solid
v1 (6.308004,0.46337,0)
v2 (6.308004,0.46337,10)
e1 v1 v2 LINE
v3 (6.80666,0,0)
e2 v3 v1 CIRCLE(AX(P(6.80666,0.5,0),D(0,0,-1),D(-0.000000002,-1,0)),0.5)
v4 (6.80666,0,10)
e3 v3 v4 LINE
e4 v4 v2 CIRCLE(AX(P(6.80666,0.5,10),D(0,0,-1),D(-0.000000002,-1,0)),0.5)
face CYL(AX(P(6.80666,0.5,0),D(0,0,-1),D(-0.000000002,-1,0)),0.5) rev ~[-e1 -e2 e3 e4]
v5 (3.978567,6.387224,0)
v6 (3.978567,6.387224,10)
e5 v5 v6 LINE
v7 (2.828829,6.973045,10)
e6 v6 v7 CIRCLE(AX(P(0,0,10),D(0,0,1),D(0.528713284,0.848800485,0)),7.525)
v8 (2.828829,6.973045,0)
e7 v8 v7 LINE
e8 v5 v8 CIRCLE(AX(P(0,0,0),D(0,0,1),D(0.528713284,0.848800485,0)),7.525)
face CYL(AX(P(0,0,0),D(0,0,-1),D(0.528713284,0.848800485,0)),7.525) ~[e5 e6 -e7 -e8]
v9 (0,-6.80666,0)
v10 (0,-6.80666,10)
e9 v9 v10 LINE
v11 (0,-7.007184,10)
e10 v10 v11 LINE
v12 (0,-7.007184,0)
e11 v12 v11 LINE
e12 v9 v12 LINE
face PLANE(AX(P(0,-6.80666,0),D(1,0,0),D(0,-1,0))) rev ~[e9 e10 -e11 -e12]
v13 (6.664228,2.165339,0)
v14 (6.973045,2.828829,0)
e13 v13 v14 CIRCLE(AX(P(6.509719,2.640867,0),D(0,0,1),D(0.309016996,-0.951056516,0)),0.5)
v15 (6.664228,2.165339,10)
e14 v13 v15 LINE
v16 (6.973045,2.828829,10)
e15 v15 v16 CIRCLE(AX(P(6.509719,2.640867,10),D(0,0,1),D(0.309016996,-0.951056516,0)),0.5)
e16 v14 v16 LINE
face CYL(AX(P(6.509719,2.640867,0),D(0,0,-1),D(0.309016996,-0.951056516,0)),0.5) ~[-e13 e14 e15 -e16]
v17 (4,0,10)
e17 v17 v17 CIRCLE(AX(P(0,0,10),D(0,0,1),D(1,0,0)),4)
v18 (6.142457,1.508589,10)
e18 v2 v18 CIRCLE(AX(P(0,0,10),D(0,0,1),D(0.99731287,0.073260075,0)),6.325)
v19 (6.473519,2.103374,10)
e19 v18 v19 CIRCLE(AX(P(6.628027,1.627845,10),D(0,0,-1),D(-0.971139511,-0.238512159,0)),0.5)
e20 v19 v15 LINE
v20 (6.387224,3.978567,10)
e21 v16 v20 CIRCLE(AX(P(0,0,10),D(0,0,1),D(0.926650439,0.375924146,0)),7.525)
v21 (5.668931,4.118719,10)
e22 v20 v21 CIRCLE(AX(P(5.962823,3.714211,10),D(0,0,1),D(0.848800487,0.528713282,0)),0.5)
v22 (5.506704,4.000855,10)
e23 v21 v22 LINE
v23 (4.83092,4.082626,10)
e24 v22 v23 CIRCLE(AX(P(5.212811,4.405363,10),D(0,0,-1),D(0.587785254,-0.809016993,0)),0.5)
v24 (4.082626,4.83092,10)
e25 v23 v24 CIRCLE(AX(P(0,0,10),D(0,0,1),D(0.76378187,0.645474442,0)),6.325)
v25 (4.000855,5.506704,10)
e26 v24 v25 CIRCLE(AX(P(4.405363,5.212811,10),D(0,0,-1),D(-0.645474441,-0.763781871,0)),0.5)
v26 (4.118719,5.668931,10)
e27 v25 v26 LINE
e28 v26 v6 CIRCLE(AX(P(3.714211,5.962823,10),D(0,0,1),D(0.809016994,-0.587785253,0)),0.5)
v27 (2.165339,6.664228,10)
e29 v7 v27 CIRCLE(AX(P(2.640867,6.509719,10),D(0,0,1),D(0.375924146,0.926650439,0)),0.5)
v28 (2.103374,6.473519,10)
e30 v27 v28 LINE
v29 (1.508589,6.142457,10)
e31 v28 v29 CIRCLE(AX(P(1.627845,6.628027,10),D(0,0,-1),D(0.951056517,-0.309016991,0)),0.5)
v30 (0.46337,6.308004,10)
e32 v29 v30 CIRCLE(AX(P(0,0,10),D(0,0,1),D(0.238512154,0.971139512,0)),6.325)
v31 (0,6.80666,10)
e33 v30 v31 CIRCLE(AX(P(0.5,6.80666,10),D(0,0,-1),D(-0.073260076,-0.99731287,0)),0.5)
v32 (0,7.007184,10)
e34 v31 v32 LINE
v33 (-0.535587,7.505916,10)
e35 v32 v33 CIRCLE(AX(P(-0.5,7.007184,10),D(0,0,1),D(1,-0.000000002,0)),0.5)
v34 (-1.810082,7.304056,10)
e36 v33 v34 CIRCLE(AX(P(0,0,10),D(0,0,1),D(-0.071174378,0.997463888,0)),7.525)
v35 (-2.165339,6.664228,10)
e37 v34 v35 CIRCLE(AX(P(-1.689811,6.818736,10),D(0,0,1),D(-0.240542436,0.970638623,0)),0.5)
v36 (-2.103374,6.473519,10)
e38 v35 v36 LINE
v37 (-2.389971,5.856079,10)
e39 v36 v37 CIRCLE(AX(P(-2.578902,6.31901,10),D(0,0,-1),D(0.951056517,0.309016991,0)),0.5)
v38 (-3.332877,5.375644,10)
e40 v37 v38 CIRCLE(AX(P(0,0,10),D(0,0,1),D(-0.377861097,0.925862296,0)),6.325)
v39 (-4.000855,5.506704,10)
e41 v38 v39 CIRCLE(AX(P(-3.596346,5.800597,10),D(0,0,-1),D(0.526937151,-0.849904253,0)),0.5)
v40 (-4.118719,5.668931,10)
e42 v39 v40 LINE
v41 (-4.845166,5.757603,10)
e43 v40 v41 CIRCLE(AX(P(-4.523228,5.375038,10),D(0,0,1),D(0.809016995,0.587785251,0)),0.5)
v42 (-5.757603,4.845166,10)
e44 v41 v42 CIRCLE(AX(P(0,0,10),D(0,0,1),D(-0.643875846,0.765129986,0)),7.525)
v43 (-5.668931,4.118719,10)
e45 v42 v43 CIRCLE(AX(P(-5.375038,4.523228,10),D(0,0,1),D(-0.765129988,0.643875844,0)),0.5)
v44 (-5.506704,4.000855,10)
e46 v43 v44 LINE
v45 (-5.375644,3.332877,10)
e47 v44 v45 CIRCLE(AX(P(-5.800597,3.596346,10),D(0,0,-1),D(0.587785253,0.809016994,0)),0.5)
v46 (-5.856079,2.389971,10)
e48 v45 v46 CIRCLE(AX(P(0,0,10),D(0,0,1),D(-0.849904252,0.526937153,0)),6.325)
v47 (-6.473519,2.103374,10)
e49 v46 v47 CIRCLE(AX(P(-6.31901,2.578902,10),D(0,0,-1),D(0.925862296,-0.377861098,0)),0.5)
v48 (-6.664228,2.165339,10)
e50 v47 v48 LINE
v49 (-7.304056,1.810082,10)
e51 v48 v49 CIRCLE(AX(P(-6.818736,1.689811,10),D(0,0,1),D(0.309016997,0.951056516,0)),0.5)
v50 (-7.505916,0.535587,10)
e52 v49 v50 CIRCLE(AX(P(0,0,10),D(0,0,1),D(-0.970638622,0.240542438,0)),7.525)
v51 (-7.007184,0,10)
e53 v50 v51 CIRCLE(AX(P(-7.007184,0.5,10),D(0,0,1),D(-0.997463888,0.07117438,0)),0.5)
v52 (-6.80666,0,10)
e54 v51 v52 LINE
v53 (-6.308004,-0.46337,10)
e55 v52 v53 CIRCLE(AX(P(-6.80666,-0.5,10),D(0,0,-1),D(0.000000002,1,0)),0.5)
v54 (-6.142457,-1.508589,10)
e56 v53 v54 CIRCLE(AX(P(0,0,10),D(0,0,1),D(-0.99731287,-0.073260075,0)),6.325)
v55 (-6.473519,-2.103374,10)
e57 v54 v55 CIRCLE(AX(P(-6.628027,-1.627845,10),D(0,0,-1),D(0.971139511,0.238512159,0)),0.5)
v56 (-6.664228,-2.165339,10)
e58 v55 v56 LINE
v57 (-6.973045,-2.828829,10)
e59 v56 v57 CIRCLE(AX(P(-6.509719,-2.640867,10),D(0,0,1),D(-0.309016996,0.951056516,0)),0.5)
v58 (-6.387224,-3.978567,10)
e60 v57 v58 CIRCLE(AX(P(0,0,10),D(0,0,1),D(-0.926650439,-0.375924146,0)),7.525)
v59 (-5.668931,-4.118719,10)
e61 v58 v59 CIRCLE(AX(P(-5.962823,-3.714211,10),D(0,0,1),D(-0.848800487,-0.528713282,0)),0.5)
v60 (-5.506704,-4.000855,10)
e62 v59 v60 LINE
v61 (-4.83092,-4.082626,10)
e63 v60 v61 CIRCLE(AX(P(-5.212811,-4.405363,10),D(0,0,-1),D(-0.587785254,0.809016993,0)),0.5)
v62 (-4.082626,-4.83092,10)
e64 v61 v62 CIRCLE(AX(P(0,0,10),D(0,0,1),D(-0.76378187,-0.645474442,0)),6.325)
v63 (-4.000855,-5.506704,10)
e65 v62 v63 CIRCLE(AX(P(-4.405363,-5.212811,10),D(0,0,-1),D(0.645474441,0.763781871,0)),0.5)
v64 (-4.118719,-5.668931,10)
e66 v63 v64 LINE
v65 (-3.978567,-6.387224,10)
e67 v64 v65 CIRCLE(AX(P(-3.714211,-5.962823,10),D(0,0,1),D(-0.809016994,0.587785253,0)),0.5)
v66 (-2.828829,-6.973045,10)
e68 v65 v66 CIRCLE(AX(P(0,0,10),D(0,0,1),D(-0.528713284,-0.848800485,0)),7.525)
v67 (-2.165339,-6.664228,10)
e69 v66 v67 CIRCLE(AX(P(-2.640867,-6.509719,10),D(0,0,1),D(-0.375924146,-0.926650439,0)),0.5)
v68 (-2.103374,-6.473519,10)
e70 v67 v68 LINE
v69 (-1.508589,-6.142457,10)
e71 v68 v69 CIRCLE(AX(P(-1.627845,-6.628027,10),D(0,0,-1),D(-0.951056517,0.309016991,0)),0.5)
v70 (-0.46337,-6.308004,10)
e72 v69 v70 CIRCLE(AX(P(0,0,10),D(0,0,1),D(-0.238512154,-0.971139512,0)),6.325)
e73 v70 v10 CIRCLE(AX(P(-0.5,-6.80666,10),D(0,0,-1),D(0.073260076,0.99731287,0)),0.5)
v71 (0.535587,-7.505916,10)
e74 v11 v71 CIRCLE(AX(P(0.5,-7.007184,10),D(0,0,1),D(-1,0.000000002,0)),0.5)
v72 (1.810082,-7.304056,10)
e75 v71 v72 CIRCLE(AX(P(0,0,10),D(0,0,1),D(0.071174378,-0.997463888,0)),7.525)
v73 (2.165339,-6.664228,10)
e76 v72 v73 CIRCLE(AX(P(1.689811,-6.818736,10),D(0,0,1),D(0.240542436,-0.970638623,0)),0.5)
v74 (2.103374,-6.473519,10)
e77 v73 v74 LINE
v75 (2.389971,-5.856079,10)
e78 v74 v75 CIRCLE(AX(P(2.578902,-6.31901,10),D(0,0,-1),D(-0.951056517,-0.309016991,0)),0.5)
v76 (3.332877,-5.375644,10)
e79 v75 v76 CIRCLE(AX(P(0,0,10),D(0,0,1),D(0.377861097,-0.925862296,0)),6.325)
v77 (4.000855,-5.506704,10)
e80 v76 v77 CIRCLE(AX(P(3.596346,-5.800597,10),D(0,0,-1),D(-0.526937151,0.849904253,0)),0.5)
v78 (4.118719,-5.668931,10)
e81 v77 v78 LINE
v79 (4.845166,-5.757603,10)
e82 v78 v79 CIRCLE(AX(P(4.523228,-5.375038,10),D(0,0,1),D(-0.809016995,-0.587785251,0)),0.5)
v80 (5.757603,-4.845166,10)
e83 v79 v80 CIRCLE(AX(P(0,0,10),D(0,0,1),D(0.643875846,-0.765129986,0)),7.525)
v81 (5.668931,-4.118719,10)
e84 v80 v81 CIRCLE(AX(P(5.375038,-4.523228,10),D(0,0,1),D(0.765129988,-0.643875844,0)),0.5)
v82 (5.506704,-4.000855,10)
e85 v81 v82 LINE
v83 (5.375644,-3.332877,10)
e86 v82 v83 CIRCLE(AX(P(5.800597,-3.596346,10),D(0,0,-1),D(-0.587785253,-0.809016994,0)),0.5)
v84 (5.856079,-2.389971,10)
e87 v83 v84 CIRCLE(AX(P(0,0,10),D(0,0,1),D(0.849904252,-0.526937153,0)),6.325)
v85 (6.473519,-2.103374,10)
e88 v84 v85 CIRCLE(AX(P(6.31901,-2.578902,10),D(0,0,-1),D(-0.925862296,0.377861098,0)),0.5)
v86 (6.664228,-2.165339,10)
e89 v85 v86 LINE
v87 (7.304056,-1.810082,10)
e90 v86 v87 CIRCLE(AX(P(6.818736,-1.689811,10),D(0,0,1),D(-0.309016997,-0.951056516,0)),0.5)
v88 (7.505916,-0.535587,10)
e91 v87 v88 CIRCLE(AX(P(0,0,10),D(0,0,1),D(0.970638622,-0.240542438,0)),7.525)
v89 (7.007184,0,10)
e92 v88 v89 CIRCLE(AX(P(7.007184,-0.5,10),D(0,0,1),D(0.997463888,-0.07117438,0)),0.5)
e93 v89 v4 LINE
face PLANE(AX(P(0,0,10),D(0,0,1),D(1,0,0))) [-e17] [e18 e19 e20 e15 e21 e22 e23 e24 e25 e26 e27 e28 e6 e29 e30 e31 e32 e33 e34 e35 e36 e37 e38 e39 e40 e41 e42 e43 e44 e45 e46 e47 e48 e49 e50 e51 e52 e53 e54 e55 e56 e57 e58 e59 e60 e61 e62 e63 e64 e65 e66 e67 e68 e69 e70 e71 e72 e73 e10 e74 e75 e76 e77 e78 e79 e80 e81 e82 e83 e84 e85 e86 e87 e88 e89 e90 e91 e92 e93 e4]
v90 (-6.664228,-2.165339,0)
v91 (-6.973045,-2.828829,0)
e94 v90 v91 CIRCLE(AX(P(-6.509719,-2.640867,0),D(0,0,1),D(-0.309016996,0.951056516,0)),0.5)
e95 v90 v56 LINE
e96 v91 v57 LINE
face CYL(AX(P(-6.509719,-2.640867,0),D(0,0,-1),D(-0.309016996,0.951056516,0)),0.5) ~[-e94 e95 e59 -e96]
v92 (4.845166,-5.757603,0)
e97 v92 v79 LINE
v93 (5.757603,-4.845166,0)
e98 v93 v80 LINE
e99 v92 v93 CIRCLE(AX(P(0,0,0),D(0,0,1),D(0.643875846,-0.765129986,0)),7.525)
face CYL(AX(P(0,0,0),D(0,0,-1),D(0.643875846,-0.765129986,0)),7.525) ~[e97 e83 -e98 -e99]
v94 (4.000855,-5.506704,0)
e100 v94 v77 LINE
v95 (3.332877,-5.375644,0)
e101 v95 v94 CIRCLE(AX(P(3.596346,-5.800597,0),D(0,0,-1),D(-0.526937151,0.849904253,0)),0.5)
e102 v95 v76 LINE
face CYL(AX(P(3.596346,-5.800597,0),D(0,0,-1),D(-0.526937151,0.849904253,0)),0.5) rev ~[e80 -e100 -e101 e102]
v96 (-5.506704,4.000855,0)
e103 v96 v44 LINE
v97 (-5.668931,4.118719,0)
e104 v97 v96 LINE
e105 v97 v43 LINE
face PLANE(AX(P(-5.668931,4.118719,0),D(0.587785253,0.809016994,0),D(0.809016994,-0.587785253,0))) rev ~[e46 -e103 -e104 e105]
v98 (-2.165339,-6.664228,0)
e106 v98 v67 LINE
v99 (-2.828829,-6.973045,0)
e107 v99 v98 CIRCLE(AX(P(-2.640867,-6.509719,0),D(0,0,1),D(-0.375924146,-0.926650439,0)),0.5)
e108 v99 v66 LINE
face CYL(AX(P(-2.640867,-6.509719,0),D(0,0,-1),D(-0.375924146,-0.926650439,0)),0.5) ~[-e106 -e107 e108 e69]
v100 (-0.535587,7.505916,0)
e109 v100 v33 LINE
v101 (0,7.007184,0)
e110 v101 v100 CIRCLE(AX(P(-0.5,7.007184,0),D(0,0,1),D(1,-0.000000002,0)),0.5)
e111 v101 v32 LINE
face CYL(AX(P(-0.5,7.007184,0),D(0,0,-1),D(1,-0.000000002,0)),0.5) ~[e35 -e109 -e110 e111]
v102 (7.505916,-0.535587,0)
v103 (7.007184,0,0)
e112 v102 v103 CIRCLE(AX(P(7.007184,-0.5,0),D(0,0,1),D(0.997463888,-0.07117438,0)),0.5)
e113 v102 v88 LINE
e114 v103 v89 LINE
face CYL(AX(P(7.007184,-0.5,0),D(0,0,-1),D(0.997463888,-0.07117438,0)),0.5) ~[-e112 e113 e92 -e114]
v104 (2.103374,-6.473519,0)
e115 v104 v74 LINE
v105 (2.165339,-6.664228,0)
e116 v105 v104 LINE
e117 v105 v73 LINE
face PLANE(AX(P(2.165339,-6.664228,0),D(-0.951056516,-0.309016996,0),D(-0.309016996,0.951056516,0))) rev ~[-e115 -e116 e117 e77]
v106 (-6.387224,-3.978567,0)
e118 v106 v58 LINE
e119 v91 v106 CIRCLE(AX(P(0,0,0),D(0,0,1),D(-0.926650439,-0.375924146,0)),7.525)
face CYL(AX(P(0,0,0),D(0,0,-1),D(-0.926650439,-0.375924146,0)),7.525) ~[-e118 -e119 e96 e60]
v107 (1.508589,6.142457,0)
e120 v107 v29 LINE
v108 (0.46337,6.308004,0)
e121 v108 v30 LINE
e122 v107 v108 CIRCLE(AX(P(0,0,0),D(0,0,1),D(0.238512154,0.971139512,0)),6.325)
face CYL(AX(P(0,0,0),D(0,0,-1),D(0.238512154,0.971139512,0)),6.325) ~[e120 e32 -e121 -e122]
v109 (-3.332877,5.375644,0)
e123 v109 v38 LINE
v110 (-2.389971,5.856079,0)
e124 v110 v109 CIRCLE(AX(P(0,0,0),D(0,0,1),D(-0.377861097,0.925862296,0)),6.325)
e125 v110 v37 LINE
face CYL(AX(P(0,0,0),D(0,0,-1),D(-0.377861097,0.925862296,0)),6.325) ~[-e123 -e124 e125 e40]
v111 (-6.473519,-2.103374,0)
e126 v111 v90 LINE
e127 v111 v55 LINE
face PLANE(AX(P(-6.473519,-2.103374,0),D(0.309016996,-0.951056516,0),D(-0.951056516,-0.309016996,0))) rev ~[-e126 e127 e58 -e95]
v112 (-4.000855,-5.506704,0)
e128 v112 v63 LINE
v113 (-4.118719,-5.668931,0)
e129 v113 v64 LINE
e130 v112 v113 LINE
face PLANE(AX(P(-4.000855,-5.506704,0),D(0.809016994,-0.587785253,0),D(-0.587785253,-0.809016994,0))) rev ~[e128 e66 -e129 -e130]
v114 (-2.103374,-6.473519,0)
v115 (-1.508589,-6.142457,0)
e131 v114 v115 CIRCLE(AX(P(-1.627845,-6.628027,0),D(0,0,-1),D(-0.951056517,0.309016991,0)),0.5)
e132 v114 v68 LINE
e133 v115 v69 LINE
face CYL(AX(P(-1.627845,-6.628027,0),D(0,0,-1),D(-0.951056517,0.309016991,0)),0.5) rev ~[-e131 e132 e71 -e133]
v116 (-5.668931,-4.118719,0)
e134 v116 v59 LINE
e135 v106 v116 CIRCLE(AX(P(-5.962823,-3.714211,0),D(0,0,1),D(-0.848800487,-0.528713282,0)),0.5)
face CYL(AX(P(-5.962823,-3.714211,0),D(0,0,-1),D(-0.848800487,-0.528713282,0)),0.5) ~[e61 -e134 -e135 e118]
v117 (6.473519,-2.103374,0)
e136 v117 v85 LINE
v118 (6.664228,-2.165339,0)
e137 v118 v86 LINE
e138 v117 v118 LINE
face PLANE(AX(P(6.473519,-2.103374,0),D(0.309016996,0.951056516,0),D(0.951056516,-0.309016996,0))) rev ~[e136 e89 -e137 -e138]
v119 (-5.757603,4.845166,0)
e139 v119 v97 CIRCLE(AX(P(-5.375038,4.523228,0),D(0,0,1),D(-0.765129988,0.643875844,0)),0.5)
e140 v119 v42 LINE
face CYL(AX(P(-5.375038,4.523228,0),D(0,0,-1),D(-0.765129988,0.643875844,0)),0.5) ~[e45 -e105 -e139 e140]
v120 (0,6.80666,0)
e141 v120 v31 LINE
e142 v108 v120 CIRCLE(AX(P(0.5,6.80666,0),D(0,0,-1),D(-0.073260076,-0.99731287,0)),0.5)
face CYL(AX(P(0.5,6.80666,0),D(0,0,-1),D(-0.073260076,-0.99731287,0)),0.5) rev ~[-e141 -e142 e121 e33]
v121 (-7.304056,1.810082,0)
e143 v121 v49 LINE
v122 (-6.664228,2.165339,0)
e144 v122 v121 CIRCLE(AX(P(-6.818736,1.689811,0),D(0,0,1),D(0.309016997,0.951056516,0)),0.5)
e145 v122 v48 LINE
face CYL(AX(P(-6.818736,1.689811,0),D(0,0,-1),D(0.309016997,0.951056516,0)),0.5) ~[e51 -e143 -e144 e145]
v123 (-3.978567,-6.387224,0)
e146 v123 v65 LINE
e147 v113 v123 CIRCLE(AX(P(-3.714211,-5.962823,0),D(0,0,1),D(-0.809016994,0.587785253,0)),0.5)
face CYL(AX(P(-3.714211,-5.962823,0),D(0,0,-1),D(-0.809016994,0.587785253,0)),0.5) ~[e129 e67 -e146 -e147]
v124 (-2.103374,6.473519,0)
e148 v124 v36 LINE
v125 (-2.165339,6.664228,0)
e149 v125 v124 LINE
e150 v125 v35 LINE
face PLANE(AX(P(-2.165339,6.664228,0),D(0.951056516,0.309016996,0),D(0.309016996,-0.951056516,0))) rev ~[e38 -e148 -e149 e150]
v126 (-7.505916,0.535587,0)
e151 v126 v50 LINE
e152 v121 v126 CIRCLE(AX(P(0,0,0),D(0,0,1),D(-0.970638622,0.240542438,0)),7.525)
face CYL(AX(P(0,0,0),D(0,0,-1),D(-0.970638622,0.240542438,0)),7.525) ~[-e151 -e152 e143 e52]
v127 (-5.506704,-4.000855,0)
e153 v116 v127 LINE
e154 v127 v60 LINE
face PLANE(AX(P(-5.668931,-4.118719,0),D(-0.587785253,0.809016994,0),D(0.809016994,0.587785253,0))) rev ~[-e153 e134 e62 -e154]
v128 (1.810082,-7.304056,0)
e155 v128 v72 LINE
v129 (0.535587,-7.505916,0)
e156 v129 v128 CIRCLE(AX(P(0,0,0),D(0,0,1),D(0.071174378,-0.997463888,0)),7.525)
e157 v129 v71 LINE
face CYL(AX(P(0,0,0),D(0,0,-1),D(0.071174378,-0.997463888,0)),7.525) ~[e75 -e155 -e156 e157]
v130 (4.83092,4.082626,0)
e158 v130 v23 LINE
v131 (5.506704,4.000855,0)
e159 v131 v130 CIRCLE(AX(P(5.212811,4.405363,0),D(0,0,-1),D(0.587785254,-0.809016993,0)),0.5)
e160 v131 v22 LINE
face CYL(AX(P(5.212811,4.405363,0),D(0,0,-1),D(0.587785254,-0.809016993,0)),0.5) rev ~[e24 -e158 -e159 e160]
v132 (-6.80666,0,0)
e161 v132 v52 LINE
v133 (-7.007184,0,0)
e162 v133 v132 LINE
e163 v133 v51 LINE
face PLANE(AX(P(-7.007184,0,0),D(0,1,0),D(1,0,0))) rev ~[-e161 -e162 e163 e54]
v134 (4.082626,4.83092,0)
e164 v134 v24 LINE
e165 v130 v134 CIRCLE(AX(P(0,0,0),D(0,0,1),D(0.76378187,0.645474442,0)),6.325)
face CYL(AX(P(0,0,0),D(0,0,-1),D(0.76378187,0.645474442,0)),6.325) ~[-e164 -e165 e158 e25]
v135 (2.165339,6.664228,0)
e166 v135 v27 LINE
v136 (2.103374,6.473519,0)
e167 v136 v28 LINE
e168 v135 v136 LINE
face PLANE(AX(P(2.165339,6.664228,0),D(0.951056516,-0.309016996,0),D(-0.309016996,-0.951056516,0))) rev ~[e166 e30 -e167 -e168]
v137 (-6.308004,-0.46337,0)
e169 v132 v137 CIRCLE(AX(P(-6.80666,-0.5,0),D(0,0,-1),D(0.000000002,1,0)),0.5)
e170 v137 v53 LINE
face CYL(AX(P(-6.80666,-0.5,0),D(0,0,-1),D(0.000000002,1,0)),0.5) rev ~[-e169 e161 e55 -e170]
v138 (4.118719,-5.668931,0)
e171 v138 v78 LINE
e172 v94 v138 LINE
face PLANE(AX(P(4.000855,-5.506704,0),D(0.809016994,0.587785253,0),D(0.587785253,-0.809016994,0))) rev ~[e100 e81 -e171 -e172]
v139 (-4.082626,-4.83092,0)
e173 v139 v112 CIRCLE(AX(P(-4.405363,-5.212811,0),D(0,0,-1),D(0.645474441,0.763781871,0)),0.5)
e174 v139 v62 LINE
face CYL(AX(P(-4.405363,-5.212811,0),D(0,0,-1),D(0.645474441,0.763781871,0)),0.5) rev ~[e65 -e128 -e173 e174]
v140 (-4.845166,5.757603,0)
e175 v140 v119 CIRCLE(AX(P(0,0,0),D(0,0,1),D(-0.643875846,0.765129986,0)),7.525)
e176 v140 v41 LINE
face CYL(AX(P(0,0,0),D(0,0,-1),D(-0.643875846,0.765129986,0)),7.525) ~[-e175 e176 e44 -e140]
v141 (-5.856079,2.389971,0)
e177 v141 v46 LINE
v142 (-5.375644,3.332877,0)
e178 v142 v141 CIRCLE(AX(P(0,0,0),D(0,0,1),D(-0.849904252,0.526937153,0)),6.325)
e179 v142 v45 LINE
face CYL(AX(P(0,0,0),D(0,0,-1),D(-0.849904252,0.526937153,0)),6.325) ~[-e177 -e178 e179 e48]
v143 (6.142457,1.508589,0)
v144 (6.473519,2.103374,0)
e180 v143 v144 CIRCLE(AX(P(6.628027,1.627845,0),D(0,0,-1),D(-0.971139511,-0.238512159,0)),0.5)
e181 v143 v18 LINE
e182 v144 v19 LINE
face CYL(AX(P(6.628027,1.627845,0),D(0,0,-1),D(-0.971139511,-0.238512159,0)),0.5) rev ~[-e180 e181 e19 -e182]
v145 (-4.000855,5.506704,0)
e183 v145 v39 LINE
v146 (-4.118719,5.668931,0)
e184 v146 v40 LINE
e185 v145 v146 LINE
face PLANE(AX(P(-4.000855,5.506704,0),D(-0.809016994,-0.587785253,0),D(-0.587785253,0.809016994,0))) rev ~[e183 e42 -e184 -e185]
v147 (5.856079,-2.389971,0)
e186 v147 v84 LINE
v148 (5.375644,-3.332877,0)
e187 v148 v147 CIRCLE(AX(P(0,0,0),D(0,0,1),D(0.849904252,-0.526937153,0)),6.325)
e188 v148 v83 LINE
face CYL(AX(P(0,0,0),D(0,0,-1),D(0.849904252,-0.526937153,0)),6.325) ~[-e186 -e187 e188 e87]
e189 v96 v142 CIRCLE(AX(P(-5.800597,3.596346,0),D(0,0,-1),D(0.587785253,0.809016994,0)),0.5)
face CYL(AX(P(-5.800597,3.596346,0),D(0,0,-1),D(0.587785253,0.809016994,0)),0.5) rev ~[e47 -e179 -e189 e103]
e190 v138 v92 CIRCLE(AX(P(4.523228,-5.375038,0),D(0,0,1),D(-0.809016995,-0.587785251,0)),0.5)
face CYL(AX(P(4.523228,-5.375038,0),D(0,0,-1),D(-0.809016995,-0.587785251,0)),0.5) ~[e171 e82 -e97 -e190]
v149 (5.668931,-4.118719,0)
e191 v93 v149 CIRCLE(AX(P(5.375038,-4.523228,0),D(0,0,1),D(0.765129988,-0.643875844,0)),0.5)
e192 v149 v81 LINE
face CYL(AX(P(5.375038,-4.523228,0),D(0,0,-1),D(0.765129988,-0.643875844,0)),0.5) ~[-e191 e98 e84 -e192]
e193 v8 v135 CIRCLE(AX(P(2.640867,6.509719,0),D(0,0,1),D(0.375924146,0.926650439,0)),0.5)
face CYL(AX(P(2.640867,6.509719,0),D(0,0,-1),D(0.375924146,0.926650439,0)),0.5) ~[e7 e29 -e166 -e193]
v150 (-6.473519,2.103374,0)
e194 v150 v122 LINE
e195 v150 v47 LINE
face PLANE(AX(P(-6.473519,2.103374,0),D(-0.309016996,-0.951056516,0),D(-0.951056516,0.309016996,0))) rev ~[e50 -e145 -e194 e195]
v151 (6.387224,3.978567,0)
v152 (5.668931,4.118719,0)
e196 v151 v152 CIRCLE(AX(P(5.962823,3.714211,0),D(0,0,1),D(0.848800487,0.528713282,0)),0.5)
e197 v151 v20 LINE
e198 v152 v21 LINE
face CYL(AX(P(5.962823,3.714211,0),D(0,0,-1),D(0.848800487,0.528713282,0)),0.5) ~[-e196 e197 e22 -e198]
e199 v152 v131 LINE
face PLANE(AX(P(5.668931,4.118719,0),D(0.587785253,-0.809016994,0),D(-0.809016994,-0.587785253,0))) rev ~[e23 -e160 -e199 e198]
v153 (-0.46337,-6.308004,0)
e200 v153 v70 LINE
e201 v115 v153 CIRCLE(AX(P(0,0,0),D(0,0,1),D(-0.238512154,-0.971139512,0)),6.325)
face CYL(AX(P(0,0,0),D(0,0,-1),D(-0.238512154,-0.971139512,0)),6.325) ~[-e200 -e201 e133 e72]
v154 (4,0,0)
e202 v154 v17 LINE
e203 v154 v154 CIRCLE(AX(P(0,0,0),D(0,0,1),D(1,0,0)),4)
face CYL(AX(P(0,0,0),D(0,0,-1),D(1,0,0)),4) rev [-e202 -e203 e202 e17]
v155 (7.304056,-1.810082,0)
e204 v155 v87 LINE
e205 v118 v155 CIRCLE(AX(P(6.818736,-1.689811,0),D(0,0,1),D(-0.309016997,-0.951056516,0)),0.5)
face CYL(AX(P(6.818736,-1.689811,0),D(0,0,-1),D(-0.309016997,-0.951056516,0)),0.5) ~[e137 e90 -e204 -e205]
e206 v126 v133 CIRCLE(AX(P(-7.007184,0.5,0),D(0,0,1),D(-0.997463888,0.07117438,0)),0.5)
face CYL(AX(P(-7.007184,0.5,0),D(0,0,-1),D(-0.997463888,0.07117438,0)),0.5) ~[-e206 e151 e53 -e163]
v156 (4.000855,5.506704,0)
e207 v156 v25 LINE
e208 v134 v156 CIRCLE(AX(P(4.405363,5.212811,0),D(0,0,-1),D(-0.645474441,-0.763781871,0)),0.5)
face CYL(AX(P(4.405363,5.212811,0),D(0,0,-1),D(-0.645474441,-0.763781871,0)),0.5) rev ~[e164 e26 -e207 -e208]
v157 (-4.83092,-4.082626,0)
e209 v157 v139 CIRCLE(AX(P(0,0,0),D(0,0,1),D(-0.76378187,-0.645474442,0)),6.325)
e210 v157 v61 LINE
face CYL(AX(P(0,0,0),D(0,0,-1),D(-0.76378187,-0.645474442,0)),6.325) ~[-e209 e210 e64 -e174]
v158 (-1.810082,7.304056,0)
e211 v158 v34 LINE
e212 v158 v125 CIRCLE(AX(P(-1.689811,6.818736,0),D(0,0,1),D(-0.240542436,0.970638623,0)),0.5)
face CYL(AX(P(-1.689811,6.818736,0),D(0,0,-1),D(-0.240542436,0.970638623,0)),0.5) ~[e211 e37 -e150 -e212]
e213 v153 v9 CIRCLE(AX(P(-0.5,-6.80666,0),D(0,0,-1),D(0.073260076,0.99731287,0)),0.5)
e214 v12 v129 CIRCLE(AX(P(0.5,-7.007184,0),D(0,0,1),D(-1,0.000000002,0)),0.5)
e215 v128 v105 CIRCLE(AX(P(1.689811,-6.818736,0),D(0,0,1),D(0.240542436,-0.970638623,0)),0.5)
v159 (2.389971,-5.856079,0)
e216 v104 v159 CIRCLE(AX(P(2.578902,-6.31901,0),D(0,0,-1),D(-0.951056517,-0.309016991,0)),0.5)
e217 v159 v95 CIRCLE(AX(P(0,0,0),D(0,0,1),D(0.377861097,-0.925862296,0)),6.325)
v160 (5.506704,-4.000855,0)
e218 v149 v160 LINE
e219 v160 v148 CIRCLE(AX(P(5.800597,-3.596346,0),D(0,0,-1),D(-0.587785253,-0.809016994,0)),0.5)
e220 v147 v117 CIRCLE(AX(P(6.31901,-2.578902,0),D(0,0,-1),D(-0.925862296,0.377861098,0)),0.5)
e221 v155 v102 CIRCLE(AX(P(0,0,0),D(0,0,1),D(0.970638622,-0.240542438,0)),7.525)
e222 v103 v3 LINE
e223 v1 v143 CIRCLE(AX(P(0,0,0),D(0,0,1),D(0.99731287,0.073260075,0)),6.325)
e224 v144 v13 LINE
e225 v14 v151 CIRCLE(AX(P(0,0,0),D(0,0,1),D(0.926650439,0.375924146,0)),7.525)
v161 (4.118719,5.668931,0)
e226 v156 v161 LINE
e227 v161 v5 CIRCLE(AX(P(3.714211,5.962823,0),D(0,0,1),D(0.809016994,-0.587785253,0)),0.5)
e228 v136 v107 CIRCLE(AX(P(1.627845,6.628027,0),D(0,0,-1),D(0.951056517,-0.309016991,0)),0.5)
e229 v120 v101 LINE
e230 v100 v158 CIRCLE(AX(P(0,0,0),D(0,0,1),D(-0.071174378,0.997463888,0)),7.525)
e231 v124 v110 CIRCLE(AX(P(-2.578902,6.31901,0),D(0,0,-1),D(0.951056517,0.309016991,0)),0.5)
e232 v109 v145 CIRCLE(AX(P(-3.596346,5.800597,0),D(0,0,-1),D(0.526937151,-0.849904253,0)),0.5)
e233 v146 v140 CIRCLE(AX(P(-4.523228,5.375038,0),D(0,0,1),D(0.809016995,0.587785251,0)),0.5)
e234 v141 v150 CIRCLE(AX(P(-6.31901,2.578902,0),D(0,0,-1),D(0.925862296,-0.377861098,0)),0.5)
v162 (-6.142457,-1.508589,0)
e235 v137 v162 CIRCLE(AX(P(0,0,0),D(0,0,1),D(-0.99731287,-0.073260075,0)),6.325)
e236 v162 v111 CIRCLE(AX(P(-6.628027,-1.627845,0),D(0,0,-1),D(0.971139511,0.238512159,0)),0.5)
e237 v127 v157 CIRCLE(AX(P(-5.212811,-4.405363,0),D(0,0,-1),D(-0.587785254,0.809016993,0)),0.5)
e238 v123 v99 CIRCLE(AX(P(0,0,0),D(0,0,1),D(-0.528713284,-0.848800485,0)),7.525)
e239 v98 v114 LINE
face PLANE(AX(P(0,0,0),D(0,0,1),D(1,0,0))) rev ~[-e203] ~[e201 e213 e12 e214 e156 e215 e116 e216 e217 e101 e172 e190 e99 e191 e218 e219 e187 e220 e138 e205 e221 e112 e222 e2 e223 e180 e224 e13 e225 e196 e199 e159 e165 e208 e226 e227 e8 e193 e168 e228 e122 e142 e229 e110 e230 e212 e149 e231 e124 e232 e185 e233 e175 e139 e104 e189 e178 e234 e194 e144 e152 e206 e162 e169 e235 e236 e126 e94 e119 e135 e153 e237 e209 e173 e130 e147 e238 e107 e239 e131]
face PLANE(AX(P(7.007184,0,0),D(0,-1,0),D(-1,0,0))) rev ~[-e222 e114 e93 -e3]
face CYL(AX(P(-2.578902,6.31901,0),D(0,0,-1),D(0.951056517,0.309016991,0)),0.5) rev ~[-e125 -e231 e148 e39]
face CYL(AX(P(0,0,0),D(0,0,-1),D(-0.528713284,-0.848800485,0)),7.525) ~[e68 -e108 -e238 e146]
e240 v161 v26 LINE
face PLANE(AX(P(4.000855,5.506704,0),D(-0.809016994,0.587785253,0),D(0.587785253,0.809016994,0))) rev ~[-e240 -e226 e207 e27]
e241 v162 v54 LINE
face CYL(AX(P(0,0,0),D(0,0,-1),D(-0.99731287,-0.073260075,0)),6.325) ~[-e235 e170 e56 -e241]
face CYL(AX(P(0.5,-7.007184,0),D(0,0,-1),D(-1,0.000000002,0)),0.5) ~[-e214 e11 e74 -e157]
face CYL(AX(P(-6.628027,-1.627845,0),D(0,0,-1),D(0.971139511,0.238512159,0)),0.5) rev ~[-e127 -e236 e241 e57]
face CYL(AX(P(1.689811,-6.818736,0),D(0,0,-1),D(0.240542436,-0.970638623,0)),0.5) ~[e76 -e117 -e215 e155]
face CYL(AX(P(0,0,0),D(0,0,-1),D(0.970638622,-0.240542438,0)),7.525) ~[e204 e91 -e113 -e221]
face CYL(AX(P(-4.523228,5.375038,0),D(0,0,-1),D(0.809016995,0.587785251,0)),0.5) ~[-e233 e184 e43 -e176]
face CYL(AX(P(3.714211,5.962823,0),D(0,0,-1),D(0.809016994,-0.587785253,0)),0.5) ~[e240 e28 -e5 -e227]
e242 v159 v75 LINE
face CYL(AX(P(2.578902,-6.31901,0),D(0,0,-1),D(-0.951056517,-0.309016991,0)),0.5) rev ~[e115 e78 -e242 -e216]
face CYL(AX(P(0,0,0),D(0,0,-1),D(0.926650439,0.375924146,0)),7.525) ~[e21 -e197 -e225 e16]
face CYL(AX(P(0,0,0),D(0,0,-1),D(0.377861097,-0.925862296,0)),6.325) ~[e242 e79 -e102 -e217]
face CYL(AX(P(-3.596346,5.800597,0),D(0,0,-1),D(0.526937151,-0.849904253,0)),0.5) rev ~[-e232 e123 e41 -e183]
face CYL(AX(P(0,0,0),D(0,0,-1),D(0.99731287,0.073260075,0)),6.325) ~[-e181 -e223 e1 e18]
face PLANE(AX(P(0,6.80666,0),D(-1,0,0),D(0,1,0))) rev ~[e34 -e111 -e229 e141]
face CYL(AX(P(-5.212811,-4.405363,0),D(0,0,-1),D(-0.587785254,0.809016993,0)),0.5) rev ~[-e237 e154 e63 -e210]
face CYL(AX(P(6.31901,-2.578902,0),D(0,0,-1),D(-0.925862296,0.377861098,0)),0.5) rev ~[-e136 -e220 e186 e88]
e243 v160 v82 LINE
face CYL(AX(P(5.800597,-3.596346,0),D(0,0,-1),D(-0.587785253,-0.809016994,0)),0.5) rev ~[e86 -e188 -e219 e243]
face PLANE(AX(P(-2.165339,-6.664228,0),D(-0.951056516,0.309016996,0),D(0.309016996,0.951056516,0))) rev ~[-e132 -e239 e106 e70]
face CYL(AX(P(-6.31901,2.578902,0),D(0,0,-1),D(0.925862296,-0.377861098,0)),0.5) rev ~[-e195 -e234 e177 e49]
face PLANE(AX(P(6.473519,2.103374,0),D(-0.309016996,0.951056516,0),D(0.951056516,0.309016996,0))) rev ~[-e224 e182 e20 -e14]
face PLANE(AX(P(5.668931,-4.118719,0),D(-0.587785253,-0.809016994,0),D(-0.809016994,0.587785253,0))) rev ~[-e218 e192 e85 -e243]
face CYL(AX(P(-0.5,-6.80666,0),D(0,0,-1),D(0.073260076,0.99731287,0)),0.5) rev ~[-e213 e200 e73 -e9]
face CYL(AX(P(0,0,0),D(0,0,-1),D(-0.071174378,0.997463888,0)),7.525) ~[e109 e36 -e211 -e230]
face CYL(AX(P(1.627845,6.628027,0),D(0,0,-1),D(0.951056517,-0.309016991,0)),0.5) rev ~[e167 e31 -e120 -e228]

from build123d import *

# Parameters (mm, degrees)
ESQUISSE1_R      = 4
EXTRUSION1_DEPTH = 10


with BuildPart() as part:
    # Esquisse1 → Extrusion1 (new body)
    with BuildSketch(Plane.XY):
        with BuildLine():
            Line((4.000854566, 5.506703891), (4.118719306, 5.668930788))
            ThreePointArc((4.118719306, 5.668930788), (4.204956471, 6.058576718), (3.97856745, 6.387223657))
            ThreePointArc((3.97856745, 6.387223657), (3.416278511, 6.704824095), (2.828829213, 6.973044549))
            ThreePointArc((2.828829213, 6.973044549), (2.429880127, 6.96302329), (2.165338881, 6.664227827))
            Line((2.165338881, 6.664227827), (2.10337372, 6.473518672))
            ThreePointArc((2.10337372, 6.473518672), (1.871017944, 6.191143724), (1.508589384, 6.142457413))
            ThreePointArc((1.508589384, 6.142457413), (0.989447991, 6.247128754), (0.463369963, 6.308003906))
            ThreePointArc((0.463369963, 6.308003906), (0.133724818, 6.466303924), (0, 6.806660341))
            Line((0, 6.806660341), (0, 7.007183814))
            ThreePointArc((0, 7.007183814), (-0.159260799, 7.373102927), (-0.535587189, 7.505915758))
            ThreePointArc((-0.535587189, 7.505915758), (-1.177169349, 7.432354763), (-1.810081842, 7.304055635))
            ThreePointArc((-1.810081842, 7.304055635), (-2.126948085, 7.061451877), (-2.165338881, 6.664227827))
            Line((-2.165338881, 6.664227827), (-2.10337372, 6.473518672))
            ThreePointArc((-2.10337372, 6.473518672), (-2.125377663, 6.108497242), (-2.389971431, 5.856079026))
            ThreePointArc((-2.389971431, 5.856079026), (-2.871489911, 5.635616265), (-3.332877492, 5.375644391))
            ThreePointArc((-3.332877492, 5.375644391), (-3.692612433, 5.309951241), (-4.000854566, 5.506703891))
            Line((-4.000854566, 5.506703891), (-4.118719306, 5.668930788))
            ThreePointArc((-4.118719306, 5.668930788), (-4.462645857, 5.87135442), (-4.845165725, 5.757603156))
            ThreePointArc((-4.845165725, 5.757603156), (-5.320978528, 5.320978528), (-5.757603156, 4.845165725))
            ThreePointArc((-5.757603156, 4.845165725), (-5.87135442, 4.462645857), (-5.668930788, 4.118719306))
            Line((-5.668930788, 4.118719306), (-5.506703891, 4.000854566))
            ThreePointArc((-5.506703891, 4.000854566), (-5.309951241, 3.692612433), (-5.375644391, 3.332877492))
            ThreePointArc((-5.375644391, 3.332877492), (-5.635616265, 2.871489911), (-5.856079026, 2.389971431))
            ThreePointArc((-5.856079026, 2.389971431), (-6.108497242, 2.125377663), (-6.473518672, 2.10337372))
            Line((-6.473518672, 2.10337372), (-6.664227827, 2.165338881))
            ThreePointArc((-6.664227827, 2.165338881), (-7.061451877, 2.126948085), (-7.304055635, 1.810081842))
            ThreePointArc((-7.304055635, 1.810081842), (-7.432354763, 1.177169349), (-7.505915758, 0.535587189))
            ThreePointArc((-7.505915758, 0.535587189), (-7.373102927, 0.159260799), (-7.007183814, 0))
            Line((-7.007183814, 0), (-6.806660341, 0))
            ThreePointArc((-6.806660341, 0), (-6.466303924, -0.133724818), (-6.308003906, -0.463369963))
            ThreePointArc((-6.308003906, -0.463369963), (-6.247128754, -0.989447991), (-6.142457413, -1.508589384))
            ThreePointArc((-6.142457413, -1.508589384), (-6.191143724, -1.871017944), (-6.473518672, -2.10337372))
            Line((-6.473518672, -2.10337372), (-6.664227827, -2.165338881))
            ThreePointArc((-6.664227827, -2.165338881), (-6.96302329, -2.429880127), (-6.973044549, -2.828829213))
            ThreePointArc((-6.973044549, -2.828829213), (-6.704824095, -3.416278511), (-6.387223657, -3.97856745))
            ThreePointArc((-6.387223657, -3.97856745), (-6.058576718, -4.204956471), (-5.668930788, -4.118719306))
            Line((-5.668930788, -4.118719306), (-5.506703891, -4.000854566))
            ThreePointArc((-5.506703891, -4.000854566), (-5.152748289, -3.908983733), (-4.83092033, -4.082625842))
            ThreePointArc((-4.83092033, -4.082625842), (-4.472450391, -4.472450391), (-4.082625842, -4.83092033))
            ThreePointArc((-4.082625842, -4.83092033), (-3.908983733, -5.152748289), (-4.000854566, -5.506703891))
            Line((-4.000854566, -5.506703891), (-4.118719306, -5.668930788))
            ThreePointArc((-4.118719306, -5.668930788), (-4.204956471, -6.058576718), (-3.97856745, -6.387223657))
            ThreePointArc((-3.97856745, -6.387223657), (-3.416278511, -6.704824095), (-2.828829213, -6.973044549))
            ThreePointArc((-2.828829213, -6.973044549), (-2.429880127, -6.96302329), (-2.165338881, -6.664227827))
            Line((-2.165338881, -6.664227827), (-2.10337372, -6.473518672))
            ThreePointArc((-2.10337372, -6.473518672), (-1.871017944, -6.191143724), (-1.508589384, -6.142457413))
            ThreePointArc((-1.508589384, -6.142457413), (-0.989447991, -6.247128754), (-0.463369963, -6.308003906))
            ThreePointArc((-0.463369963, -6.308003906), (-0.133724818, -6.466303924), (0, -6.806660341))
            Line((0, -6.806660341), (0, -7.007183814))
            ThreePointArc((0, -7.007183814), (0.159260799, -7.373102927), (0.535587189, -7.505915758))
            ThreePointArc((0.535587189, -7.505915758), (1.177169349, -7.432354763), (1.810081842, -7.304055635))
            ThreePointArc((1.810081842, -7.304055635), (2.126948085, -7.061451877), (2.165338881, -6.664227827))
            Line((2.165338881, -6.664227827), (2.10337372, -6.473518672))
            ThreePointArc((2.10337372, -6.473518672), (2.125377663, -6.108497242), (2.389971431, -5.856079026))
            ThreePointArc((2.389971431, -5.856079026), (2.871489911, -5.635616265), (3.332877492, -5.375644391))
            ThreePointArc((3.332877492, -5.375644391), (3.692612433, -5.309951241), (4.000854566, -5.506703891))
            Line((4.000854566, -5.506703891), (4.118719306, -5.668930788))
            ThreePointArc((4.118719306, -5.668930788), (4.462645857, -5.87135442), (4.845165725, -5.757603156))
            ThreePointArc((4.845165725, -5.757603156), (5.320978528, -5.320978528), (5.757603156, -4.845165725))
            ThreePointArc((5.757603156, -4.845165725), (5.87135442, -4.462645857), (5.668930788, -4.118719306))
            Line((5.668930788, -4.118719306), (5.506703891, -4.000854566))
            ThreePointArc((5.506703891, -4.000854566), (5.309951241, -3.692612433), (5.375644391, -3.332877492))
            ThreePointArc((5.375644391, -3.332877492), (5.635616265, -2.871489911), (5.856079026, -2.389971431))
            ThreePointArc((5.856079026, -2.389971431), (6.108497242, -2.125377663), (6.473518672, -2.10337372))
            Line((6.473518672, -2.10337372), (6.664227827, -2.165338881))
            ThreePointArc((6.664227827, -2.165338881), (7.061451877, -2.126948085), (7.304055635, -1.810081842))
            ThreePointArc((7.304055635, -1.810081842), (7.432354763, -1.177169349), (7.505915758, -0.535587189))
            ThreePointArc((7.505915758, -0.535587189), (7.373102927, -0.159260799), (7.007183814, 0))
            Line((7.007183814, 0), (6.806660341, 0))
            ThreePointArc((6.806660341, 0), (6.466303924, 0.133724818), (6.308003906, 0.463369963))
            ThreePointArc((6.308003906, 0.463369963), (6.247128754, 0.989447991), (6.142457413, 1.508589384))
            ThreePointArc((6.142457413, 1.508589384), (6.191143724, 1.871017944), (6.473518672, 2.10337372))
            Line((6.473518672, 2.10337372), (6.664227827, 2.165338881))
            ThreePointArc((6.664227827, 2.165338881), (6.96302329, 2.429880127), (6.973044549, 2.828829213))
            ThreePointArc((6.973044549, 2.828829213), (6.704824095, 3.416278511), (6.387223657, 3.97856745))
            ThreePointArc((6.387223657, 3.97856745), (6.058576718, 4.204956471), (5.668930788, 4.118719306))
            Line((5.668930788, 4.118719306), (5.506703891, 4.000854566))
            ThreePointArc((5.506703891, 4.000854566), (5.152748289, 3.908983733), (4.83092033, 4.082625842))
            ThreePointArc((4.83092033, 4.082625842), (4.472450391, 4.472450391), (4.082625842, 4.83092033))
            ThreePointArc((4.082625842, 4.83092033), (3.908983733, 5.152748289), (4.000854566, 5.506703891))
        make_face()
        Circle(ESQUISSE1_R, mode=Mode.SUBTRACT)
    extrude(amount=EXTRUSION1_DEPTH)


solid = part.part
